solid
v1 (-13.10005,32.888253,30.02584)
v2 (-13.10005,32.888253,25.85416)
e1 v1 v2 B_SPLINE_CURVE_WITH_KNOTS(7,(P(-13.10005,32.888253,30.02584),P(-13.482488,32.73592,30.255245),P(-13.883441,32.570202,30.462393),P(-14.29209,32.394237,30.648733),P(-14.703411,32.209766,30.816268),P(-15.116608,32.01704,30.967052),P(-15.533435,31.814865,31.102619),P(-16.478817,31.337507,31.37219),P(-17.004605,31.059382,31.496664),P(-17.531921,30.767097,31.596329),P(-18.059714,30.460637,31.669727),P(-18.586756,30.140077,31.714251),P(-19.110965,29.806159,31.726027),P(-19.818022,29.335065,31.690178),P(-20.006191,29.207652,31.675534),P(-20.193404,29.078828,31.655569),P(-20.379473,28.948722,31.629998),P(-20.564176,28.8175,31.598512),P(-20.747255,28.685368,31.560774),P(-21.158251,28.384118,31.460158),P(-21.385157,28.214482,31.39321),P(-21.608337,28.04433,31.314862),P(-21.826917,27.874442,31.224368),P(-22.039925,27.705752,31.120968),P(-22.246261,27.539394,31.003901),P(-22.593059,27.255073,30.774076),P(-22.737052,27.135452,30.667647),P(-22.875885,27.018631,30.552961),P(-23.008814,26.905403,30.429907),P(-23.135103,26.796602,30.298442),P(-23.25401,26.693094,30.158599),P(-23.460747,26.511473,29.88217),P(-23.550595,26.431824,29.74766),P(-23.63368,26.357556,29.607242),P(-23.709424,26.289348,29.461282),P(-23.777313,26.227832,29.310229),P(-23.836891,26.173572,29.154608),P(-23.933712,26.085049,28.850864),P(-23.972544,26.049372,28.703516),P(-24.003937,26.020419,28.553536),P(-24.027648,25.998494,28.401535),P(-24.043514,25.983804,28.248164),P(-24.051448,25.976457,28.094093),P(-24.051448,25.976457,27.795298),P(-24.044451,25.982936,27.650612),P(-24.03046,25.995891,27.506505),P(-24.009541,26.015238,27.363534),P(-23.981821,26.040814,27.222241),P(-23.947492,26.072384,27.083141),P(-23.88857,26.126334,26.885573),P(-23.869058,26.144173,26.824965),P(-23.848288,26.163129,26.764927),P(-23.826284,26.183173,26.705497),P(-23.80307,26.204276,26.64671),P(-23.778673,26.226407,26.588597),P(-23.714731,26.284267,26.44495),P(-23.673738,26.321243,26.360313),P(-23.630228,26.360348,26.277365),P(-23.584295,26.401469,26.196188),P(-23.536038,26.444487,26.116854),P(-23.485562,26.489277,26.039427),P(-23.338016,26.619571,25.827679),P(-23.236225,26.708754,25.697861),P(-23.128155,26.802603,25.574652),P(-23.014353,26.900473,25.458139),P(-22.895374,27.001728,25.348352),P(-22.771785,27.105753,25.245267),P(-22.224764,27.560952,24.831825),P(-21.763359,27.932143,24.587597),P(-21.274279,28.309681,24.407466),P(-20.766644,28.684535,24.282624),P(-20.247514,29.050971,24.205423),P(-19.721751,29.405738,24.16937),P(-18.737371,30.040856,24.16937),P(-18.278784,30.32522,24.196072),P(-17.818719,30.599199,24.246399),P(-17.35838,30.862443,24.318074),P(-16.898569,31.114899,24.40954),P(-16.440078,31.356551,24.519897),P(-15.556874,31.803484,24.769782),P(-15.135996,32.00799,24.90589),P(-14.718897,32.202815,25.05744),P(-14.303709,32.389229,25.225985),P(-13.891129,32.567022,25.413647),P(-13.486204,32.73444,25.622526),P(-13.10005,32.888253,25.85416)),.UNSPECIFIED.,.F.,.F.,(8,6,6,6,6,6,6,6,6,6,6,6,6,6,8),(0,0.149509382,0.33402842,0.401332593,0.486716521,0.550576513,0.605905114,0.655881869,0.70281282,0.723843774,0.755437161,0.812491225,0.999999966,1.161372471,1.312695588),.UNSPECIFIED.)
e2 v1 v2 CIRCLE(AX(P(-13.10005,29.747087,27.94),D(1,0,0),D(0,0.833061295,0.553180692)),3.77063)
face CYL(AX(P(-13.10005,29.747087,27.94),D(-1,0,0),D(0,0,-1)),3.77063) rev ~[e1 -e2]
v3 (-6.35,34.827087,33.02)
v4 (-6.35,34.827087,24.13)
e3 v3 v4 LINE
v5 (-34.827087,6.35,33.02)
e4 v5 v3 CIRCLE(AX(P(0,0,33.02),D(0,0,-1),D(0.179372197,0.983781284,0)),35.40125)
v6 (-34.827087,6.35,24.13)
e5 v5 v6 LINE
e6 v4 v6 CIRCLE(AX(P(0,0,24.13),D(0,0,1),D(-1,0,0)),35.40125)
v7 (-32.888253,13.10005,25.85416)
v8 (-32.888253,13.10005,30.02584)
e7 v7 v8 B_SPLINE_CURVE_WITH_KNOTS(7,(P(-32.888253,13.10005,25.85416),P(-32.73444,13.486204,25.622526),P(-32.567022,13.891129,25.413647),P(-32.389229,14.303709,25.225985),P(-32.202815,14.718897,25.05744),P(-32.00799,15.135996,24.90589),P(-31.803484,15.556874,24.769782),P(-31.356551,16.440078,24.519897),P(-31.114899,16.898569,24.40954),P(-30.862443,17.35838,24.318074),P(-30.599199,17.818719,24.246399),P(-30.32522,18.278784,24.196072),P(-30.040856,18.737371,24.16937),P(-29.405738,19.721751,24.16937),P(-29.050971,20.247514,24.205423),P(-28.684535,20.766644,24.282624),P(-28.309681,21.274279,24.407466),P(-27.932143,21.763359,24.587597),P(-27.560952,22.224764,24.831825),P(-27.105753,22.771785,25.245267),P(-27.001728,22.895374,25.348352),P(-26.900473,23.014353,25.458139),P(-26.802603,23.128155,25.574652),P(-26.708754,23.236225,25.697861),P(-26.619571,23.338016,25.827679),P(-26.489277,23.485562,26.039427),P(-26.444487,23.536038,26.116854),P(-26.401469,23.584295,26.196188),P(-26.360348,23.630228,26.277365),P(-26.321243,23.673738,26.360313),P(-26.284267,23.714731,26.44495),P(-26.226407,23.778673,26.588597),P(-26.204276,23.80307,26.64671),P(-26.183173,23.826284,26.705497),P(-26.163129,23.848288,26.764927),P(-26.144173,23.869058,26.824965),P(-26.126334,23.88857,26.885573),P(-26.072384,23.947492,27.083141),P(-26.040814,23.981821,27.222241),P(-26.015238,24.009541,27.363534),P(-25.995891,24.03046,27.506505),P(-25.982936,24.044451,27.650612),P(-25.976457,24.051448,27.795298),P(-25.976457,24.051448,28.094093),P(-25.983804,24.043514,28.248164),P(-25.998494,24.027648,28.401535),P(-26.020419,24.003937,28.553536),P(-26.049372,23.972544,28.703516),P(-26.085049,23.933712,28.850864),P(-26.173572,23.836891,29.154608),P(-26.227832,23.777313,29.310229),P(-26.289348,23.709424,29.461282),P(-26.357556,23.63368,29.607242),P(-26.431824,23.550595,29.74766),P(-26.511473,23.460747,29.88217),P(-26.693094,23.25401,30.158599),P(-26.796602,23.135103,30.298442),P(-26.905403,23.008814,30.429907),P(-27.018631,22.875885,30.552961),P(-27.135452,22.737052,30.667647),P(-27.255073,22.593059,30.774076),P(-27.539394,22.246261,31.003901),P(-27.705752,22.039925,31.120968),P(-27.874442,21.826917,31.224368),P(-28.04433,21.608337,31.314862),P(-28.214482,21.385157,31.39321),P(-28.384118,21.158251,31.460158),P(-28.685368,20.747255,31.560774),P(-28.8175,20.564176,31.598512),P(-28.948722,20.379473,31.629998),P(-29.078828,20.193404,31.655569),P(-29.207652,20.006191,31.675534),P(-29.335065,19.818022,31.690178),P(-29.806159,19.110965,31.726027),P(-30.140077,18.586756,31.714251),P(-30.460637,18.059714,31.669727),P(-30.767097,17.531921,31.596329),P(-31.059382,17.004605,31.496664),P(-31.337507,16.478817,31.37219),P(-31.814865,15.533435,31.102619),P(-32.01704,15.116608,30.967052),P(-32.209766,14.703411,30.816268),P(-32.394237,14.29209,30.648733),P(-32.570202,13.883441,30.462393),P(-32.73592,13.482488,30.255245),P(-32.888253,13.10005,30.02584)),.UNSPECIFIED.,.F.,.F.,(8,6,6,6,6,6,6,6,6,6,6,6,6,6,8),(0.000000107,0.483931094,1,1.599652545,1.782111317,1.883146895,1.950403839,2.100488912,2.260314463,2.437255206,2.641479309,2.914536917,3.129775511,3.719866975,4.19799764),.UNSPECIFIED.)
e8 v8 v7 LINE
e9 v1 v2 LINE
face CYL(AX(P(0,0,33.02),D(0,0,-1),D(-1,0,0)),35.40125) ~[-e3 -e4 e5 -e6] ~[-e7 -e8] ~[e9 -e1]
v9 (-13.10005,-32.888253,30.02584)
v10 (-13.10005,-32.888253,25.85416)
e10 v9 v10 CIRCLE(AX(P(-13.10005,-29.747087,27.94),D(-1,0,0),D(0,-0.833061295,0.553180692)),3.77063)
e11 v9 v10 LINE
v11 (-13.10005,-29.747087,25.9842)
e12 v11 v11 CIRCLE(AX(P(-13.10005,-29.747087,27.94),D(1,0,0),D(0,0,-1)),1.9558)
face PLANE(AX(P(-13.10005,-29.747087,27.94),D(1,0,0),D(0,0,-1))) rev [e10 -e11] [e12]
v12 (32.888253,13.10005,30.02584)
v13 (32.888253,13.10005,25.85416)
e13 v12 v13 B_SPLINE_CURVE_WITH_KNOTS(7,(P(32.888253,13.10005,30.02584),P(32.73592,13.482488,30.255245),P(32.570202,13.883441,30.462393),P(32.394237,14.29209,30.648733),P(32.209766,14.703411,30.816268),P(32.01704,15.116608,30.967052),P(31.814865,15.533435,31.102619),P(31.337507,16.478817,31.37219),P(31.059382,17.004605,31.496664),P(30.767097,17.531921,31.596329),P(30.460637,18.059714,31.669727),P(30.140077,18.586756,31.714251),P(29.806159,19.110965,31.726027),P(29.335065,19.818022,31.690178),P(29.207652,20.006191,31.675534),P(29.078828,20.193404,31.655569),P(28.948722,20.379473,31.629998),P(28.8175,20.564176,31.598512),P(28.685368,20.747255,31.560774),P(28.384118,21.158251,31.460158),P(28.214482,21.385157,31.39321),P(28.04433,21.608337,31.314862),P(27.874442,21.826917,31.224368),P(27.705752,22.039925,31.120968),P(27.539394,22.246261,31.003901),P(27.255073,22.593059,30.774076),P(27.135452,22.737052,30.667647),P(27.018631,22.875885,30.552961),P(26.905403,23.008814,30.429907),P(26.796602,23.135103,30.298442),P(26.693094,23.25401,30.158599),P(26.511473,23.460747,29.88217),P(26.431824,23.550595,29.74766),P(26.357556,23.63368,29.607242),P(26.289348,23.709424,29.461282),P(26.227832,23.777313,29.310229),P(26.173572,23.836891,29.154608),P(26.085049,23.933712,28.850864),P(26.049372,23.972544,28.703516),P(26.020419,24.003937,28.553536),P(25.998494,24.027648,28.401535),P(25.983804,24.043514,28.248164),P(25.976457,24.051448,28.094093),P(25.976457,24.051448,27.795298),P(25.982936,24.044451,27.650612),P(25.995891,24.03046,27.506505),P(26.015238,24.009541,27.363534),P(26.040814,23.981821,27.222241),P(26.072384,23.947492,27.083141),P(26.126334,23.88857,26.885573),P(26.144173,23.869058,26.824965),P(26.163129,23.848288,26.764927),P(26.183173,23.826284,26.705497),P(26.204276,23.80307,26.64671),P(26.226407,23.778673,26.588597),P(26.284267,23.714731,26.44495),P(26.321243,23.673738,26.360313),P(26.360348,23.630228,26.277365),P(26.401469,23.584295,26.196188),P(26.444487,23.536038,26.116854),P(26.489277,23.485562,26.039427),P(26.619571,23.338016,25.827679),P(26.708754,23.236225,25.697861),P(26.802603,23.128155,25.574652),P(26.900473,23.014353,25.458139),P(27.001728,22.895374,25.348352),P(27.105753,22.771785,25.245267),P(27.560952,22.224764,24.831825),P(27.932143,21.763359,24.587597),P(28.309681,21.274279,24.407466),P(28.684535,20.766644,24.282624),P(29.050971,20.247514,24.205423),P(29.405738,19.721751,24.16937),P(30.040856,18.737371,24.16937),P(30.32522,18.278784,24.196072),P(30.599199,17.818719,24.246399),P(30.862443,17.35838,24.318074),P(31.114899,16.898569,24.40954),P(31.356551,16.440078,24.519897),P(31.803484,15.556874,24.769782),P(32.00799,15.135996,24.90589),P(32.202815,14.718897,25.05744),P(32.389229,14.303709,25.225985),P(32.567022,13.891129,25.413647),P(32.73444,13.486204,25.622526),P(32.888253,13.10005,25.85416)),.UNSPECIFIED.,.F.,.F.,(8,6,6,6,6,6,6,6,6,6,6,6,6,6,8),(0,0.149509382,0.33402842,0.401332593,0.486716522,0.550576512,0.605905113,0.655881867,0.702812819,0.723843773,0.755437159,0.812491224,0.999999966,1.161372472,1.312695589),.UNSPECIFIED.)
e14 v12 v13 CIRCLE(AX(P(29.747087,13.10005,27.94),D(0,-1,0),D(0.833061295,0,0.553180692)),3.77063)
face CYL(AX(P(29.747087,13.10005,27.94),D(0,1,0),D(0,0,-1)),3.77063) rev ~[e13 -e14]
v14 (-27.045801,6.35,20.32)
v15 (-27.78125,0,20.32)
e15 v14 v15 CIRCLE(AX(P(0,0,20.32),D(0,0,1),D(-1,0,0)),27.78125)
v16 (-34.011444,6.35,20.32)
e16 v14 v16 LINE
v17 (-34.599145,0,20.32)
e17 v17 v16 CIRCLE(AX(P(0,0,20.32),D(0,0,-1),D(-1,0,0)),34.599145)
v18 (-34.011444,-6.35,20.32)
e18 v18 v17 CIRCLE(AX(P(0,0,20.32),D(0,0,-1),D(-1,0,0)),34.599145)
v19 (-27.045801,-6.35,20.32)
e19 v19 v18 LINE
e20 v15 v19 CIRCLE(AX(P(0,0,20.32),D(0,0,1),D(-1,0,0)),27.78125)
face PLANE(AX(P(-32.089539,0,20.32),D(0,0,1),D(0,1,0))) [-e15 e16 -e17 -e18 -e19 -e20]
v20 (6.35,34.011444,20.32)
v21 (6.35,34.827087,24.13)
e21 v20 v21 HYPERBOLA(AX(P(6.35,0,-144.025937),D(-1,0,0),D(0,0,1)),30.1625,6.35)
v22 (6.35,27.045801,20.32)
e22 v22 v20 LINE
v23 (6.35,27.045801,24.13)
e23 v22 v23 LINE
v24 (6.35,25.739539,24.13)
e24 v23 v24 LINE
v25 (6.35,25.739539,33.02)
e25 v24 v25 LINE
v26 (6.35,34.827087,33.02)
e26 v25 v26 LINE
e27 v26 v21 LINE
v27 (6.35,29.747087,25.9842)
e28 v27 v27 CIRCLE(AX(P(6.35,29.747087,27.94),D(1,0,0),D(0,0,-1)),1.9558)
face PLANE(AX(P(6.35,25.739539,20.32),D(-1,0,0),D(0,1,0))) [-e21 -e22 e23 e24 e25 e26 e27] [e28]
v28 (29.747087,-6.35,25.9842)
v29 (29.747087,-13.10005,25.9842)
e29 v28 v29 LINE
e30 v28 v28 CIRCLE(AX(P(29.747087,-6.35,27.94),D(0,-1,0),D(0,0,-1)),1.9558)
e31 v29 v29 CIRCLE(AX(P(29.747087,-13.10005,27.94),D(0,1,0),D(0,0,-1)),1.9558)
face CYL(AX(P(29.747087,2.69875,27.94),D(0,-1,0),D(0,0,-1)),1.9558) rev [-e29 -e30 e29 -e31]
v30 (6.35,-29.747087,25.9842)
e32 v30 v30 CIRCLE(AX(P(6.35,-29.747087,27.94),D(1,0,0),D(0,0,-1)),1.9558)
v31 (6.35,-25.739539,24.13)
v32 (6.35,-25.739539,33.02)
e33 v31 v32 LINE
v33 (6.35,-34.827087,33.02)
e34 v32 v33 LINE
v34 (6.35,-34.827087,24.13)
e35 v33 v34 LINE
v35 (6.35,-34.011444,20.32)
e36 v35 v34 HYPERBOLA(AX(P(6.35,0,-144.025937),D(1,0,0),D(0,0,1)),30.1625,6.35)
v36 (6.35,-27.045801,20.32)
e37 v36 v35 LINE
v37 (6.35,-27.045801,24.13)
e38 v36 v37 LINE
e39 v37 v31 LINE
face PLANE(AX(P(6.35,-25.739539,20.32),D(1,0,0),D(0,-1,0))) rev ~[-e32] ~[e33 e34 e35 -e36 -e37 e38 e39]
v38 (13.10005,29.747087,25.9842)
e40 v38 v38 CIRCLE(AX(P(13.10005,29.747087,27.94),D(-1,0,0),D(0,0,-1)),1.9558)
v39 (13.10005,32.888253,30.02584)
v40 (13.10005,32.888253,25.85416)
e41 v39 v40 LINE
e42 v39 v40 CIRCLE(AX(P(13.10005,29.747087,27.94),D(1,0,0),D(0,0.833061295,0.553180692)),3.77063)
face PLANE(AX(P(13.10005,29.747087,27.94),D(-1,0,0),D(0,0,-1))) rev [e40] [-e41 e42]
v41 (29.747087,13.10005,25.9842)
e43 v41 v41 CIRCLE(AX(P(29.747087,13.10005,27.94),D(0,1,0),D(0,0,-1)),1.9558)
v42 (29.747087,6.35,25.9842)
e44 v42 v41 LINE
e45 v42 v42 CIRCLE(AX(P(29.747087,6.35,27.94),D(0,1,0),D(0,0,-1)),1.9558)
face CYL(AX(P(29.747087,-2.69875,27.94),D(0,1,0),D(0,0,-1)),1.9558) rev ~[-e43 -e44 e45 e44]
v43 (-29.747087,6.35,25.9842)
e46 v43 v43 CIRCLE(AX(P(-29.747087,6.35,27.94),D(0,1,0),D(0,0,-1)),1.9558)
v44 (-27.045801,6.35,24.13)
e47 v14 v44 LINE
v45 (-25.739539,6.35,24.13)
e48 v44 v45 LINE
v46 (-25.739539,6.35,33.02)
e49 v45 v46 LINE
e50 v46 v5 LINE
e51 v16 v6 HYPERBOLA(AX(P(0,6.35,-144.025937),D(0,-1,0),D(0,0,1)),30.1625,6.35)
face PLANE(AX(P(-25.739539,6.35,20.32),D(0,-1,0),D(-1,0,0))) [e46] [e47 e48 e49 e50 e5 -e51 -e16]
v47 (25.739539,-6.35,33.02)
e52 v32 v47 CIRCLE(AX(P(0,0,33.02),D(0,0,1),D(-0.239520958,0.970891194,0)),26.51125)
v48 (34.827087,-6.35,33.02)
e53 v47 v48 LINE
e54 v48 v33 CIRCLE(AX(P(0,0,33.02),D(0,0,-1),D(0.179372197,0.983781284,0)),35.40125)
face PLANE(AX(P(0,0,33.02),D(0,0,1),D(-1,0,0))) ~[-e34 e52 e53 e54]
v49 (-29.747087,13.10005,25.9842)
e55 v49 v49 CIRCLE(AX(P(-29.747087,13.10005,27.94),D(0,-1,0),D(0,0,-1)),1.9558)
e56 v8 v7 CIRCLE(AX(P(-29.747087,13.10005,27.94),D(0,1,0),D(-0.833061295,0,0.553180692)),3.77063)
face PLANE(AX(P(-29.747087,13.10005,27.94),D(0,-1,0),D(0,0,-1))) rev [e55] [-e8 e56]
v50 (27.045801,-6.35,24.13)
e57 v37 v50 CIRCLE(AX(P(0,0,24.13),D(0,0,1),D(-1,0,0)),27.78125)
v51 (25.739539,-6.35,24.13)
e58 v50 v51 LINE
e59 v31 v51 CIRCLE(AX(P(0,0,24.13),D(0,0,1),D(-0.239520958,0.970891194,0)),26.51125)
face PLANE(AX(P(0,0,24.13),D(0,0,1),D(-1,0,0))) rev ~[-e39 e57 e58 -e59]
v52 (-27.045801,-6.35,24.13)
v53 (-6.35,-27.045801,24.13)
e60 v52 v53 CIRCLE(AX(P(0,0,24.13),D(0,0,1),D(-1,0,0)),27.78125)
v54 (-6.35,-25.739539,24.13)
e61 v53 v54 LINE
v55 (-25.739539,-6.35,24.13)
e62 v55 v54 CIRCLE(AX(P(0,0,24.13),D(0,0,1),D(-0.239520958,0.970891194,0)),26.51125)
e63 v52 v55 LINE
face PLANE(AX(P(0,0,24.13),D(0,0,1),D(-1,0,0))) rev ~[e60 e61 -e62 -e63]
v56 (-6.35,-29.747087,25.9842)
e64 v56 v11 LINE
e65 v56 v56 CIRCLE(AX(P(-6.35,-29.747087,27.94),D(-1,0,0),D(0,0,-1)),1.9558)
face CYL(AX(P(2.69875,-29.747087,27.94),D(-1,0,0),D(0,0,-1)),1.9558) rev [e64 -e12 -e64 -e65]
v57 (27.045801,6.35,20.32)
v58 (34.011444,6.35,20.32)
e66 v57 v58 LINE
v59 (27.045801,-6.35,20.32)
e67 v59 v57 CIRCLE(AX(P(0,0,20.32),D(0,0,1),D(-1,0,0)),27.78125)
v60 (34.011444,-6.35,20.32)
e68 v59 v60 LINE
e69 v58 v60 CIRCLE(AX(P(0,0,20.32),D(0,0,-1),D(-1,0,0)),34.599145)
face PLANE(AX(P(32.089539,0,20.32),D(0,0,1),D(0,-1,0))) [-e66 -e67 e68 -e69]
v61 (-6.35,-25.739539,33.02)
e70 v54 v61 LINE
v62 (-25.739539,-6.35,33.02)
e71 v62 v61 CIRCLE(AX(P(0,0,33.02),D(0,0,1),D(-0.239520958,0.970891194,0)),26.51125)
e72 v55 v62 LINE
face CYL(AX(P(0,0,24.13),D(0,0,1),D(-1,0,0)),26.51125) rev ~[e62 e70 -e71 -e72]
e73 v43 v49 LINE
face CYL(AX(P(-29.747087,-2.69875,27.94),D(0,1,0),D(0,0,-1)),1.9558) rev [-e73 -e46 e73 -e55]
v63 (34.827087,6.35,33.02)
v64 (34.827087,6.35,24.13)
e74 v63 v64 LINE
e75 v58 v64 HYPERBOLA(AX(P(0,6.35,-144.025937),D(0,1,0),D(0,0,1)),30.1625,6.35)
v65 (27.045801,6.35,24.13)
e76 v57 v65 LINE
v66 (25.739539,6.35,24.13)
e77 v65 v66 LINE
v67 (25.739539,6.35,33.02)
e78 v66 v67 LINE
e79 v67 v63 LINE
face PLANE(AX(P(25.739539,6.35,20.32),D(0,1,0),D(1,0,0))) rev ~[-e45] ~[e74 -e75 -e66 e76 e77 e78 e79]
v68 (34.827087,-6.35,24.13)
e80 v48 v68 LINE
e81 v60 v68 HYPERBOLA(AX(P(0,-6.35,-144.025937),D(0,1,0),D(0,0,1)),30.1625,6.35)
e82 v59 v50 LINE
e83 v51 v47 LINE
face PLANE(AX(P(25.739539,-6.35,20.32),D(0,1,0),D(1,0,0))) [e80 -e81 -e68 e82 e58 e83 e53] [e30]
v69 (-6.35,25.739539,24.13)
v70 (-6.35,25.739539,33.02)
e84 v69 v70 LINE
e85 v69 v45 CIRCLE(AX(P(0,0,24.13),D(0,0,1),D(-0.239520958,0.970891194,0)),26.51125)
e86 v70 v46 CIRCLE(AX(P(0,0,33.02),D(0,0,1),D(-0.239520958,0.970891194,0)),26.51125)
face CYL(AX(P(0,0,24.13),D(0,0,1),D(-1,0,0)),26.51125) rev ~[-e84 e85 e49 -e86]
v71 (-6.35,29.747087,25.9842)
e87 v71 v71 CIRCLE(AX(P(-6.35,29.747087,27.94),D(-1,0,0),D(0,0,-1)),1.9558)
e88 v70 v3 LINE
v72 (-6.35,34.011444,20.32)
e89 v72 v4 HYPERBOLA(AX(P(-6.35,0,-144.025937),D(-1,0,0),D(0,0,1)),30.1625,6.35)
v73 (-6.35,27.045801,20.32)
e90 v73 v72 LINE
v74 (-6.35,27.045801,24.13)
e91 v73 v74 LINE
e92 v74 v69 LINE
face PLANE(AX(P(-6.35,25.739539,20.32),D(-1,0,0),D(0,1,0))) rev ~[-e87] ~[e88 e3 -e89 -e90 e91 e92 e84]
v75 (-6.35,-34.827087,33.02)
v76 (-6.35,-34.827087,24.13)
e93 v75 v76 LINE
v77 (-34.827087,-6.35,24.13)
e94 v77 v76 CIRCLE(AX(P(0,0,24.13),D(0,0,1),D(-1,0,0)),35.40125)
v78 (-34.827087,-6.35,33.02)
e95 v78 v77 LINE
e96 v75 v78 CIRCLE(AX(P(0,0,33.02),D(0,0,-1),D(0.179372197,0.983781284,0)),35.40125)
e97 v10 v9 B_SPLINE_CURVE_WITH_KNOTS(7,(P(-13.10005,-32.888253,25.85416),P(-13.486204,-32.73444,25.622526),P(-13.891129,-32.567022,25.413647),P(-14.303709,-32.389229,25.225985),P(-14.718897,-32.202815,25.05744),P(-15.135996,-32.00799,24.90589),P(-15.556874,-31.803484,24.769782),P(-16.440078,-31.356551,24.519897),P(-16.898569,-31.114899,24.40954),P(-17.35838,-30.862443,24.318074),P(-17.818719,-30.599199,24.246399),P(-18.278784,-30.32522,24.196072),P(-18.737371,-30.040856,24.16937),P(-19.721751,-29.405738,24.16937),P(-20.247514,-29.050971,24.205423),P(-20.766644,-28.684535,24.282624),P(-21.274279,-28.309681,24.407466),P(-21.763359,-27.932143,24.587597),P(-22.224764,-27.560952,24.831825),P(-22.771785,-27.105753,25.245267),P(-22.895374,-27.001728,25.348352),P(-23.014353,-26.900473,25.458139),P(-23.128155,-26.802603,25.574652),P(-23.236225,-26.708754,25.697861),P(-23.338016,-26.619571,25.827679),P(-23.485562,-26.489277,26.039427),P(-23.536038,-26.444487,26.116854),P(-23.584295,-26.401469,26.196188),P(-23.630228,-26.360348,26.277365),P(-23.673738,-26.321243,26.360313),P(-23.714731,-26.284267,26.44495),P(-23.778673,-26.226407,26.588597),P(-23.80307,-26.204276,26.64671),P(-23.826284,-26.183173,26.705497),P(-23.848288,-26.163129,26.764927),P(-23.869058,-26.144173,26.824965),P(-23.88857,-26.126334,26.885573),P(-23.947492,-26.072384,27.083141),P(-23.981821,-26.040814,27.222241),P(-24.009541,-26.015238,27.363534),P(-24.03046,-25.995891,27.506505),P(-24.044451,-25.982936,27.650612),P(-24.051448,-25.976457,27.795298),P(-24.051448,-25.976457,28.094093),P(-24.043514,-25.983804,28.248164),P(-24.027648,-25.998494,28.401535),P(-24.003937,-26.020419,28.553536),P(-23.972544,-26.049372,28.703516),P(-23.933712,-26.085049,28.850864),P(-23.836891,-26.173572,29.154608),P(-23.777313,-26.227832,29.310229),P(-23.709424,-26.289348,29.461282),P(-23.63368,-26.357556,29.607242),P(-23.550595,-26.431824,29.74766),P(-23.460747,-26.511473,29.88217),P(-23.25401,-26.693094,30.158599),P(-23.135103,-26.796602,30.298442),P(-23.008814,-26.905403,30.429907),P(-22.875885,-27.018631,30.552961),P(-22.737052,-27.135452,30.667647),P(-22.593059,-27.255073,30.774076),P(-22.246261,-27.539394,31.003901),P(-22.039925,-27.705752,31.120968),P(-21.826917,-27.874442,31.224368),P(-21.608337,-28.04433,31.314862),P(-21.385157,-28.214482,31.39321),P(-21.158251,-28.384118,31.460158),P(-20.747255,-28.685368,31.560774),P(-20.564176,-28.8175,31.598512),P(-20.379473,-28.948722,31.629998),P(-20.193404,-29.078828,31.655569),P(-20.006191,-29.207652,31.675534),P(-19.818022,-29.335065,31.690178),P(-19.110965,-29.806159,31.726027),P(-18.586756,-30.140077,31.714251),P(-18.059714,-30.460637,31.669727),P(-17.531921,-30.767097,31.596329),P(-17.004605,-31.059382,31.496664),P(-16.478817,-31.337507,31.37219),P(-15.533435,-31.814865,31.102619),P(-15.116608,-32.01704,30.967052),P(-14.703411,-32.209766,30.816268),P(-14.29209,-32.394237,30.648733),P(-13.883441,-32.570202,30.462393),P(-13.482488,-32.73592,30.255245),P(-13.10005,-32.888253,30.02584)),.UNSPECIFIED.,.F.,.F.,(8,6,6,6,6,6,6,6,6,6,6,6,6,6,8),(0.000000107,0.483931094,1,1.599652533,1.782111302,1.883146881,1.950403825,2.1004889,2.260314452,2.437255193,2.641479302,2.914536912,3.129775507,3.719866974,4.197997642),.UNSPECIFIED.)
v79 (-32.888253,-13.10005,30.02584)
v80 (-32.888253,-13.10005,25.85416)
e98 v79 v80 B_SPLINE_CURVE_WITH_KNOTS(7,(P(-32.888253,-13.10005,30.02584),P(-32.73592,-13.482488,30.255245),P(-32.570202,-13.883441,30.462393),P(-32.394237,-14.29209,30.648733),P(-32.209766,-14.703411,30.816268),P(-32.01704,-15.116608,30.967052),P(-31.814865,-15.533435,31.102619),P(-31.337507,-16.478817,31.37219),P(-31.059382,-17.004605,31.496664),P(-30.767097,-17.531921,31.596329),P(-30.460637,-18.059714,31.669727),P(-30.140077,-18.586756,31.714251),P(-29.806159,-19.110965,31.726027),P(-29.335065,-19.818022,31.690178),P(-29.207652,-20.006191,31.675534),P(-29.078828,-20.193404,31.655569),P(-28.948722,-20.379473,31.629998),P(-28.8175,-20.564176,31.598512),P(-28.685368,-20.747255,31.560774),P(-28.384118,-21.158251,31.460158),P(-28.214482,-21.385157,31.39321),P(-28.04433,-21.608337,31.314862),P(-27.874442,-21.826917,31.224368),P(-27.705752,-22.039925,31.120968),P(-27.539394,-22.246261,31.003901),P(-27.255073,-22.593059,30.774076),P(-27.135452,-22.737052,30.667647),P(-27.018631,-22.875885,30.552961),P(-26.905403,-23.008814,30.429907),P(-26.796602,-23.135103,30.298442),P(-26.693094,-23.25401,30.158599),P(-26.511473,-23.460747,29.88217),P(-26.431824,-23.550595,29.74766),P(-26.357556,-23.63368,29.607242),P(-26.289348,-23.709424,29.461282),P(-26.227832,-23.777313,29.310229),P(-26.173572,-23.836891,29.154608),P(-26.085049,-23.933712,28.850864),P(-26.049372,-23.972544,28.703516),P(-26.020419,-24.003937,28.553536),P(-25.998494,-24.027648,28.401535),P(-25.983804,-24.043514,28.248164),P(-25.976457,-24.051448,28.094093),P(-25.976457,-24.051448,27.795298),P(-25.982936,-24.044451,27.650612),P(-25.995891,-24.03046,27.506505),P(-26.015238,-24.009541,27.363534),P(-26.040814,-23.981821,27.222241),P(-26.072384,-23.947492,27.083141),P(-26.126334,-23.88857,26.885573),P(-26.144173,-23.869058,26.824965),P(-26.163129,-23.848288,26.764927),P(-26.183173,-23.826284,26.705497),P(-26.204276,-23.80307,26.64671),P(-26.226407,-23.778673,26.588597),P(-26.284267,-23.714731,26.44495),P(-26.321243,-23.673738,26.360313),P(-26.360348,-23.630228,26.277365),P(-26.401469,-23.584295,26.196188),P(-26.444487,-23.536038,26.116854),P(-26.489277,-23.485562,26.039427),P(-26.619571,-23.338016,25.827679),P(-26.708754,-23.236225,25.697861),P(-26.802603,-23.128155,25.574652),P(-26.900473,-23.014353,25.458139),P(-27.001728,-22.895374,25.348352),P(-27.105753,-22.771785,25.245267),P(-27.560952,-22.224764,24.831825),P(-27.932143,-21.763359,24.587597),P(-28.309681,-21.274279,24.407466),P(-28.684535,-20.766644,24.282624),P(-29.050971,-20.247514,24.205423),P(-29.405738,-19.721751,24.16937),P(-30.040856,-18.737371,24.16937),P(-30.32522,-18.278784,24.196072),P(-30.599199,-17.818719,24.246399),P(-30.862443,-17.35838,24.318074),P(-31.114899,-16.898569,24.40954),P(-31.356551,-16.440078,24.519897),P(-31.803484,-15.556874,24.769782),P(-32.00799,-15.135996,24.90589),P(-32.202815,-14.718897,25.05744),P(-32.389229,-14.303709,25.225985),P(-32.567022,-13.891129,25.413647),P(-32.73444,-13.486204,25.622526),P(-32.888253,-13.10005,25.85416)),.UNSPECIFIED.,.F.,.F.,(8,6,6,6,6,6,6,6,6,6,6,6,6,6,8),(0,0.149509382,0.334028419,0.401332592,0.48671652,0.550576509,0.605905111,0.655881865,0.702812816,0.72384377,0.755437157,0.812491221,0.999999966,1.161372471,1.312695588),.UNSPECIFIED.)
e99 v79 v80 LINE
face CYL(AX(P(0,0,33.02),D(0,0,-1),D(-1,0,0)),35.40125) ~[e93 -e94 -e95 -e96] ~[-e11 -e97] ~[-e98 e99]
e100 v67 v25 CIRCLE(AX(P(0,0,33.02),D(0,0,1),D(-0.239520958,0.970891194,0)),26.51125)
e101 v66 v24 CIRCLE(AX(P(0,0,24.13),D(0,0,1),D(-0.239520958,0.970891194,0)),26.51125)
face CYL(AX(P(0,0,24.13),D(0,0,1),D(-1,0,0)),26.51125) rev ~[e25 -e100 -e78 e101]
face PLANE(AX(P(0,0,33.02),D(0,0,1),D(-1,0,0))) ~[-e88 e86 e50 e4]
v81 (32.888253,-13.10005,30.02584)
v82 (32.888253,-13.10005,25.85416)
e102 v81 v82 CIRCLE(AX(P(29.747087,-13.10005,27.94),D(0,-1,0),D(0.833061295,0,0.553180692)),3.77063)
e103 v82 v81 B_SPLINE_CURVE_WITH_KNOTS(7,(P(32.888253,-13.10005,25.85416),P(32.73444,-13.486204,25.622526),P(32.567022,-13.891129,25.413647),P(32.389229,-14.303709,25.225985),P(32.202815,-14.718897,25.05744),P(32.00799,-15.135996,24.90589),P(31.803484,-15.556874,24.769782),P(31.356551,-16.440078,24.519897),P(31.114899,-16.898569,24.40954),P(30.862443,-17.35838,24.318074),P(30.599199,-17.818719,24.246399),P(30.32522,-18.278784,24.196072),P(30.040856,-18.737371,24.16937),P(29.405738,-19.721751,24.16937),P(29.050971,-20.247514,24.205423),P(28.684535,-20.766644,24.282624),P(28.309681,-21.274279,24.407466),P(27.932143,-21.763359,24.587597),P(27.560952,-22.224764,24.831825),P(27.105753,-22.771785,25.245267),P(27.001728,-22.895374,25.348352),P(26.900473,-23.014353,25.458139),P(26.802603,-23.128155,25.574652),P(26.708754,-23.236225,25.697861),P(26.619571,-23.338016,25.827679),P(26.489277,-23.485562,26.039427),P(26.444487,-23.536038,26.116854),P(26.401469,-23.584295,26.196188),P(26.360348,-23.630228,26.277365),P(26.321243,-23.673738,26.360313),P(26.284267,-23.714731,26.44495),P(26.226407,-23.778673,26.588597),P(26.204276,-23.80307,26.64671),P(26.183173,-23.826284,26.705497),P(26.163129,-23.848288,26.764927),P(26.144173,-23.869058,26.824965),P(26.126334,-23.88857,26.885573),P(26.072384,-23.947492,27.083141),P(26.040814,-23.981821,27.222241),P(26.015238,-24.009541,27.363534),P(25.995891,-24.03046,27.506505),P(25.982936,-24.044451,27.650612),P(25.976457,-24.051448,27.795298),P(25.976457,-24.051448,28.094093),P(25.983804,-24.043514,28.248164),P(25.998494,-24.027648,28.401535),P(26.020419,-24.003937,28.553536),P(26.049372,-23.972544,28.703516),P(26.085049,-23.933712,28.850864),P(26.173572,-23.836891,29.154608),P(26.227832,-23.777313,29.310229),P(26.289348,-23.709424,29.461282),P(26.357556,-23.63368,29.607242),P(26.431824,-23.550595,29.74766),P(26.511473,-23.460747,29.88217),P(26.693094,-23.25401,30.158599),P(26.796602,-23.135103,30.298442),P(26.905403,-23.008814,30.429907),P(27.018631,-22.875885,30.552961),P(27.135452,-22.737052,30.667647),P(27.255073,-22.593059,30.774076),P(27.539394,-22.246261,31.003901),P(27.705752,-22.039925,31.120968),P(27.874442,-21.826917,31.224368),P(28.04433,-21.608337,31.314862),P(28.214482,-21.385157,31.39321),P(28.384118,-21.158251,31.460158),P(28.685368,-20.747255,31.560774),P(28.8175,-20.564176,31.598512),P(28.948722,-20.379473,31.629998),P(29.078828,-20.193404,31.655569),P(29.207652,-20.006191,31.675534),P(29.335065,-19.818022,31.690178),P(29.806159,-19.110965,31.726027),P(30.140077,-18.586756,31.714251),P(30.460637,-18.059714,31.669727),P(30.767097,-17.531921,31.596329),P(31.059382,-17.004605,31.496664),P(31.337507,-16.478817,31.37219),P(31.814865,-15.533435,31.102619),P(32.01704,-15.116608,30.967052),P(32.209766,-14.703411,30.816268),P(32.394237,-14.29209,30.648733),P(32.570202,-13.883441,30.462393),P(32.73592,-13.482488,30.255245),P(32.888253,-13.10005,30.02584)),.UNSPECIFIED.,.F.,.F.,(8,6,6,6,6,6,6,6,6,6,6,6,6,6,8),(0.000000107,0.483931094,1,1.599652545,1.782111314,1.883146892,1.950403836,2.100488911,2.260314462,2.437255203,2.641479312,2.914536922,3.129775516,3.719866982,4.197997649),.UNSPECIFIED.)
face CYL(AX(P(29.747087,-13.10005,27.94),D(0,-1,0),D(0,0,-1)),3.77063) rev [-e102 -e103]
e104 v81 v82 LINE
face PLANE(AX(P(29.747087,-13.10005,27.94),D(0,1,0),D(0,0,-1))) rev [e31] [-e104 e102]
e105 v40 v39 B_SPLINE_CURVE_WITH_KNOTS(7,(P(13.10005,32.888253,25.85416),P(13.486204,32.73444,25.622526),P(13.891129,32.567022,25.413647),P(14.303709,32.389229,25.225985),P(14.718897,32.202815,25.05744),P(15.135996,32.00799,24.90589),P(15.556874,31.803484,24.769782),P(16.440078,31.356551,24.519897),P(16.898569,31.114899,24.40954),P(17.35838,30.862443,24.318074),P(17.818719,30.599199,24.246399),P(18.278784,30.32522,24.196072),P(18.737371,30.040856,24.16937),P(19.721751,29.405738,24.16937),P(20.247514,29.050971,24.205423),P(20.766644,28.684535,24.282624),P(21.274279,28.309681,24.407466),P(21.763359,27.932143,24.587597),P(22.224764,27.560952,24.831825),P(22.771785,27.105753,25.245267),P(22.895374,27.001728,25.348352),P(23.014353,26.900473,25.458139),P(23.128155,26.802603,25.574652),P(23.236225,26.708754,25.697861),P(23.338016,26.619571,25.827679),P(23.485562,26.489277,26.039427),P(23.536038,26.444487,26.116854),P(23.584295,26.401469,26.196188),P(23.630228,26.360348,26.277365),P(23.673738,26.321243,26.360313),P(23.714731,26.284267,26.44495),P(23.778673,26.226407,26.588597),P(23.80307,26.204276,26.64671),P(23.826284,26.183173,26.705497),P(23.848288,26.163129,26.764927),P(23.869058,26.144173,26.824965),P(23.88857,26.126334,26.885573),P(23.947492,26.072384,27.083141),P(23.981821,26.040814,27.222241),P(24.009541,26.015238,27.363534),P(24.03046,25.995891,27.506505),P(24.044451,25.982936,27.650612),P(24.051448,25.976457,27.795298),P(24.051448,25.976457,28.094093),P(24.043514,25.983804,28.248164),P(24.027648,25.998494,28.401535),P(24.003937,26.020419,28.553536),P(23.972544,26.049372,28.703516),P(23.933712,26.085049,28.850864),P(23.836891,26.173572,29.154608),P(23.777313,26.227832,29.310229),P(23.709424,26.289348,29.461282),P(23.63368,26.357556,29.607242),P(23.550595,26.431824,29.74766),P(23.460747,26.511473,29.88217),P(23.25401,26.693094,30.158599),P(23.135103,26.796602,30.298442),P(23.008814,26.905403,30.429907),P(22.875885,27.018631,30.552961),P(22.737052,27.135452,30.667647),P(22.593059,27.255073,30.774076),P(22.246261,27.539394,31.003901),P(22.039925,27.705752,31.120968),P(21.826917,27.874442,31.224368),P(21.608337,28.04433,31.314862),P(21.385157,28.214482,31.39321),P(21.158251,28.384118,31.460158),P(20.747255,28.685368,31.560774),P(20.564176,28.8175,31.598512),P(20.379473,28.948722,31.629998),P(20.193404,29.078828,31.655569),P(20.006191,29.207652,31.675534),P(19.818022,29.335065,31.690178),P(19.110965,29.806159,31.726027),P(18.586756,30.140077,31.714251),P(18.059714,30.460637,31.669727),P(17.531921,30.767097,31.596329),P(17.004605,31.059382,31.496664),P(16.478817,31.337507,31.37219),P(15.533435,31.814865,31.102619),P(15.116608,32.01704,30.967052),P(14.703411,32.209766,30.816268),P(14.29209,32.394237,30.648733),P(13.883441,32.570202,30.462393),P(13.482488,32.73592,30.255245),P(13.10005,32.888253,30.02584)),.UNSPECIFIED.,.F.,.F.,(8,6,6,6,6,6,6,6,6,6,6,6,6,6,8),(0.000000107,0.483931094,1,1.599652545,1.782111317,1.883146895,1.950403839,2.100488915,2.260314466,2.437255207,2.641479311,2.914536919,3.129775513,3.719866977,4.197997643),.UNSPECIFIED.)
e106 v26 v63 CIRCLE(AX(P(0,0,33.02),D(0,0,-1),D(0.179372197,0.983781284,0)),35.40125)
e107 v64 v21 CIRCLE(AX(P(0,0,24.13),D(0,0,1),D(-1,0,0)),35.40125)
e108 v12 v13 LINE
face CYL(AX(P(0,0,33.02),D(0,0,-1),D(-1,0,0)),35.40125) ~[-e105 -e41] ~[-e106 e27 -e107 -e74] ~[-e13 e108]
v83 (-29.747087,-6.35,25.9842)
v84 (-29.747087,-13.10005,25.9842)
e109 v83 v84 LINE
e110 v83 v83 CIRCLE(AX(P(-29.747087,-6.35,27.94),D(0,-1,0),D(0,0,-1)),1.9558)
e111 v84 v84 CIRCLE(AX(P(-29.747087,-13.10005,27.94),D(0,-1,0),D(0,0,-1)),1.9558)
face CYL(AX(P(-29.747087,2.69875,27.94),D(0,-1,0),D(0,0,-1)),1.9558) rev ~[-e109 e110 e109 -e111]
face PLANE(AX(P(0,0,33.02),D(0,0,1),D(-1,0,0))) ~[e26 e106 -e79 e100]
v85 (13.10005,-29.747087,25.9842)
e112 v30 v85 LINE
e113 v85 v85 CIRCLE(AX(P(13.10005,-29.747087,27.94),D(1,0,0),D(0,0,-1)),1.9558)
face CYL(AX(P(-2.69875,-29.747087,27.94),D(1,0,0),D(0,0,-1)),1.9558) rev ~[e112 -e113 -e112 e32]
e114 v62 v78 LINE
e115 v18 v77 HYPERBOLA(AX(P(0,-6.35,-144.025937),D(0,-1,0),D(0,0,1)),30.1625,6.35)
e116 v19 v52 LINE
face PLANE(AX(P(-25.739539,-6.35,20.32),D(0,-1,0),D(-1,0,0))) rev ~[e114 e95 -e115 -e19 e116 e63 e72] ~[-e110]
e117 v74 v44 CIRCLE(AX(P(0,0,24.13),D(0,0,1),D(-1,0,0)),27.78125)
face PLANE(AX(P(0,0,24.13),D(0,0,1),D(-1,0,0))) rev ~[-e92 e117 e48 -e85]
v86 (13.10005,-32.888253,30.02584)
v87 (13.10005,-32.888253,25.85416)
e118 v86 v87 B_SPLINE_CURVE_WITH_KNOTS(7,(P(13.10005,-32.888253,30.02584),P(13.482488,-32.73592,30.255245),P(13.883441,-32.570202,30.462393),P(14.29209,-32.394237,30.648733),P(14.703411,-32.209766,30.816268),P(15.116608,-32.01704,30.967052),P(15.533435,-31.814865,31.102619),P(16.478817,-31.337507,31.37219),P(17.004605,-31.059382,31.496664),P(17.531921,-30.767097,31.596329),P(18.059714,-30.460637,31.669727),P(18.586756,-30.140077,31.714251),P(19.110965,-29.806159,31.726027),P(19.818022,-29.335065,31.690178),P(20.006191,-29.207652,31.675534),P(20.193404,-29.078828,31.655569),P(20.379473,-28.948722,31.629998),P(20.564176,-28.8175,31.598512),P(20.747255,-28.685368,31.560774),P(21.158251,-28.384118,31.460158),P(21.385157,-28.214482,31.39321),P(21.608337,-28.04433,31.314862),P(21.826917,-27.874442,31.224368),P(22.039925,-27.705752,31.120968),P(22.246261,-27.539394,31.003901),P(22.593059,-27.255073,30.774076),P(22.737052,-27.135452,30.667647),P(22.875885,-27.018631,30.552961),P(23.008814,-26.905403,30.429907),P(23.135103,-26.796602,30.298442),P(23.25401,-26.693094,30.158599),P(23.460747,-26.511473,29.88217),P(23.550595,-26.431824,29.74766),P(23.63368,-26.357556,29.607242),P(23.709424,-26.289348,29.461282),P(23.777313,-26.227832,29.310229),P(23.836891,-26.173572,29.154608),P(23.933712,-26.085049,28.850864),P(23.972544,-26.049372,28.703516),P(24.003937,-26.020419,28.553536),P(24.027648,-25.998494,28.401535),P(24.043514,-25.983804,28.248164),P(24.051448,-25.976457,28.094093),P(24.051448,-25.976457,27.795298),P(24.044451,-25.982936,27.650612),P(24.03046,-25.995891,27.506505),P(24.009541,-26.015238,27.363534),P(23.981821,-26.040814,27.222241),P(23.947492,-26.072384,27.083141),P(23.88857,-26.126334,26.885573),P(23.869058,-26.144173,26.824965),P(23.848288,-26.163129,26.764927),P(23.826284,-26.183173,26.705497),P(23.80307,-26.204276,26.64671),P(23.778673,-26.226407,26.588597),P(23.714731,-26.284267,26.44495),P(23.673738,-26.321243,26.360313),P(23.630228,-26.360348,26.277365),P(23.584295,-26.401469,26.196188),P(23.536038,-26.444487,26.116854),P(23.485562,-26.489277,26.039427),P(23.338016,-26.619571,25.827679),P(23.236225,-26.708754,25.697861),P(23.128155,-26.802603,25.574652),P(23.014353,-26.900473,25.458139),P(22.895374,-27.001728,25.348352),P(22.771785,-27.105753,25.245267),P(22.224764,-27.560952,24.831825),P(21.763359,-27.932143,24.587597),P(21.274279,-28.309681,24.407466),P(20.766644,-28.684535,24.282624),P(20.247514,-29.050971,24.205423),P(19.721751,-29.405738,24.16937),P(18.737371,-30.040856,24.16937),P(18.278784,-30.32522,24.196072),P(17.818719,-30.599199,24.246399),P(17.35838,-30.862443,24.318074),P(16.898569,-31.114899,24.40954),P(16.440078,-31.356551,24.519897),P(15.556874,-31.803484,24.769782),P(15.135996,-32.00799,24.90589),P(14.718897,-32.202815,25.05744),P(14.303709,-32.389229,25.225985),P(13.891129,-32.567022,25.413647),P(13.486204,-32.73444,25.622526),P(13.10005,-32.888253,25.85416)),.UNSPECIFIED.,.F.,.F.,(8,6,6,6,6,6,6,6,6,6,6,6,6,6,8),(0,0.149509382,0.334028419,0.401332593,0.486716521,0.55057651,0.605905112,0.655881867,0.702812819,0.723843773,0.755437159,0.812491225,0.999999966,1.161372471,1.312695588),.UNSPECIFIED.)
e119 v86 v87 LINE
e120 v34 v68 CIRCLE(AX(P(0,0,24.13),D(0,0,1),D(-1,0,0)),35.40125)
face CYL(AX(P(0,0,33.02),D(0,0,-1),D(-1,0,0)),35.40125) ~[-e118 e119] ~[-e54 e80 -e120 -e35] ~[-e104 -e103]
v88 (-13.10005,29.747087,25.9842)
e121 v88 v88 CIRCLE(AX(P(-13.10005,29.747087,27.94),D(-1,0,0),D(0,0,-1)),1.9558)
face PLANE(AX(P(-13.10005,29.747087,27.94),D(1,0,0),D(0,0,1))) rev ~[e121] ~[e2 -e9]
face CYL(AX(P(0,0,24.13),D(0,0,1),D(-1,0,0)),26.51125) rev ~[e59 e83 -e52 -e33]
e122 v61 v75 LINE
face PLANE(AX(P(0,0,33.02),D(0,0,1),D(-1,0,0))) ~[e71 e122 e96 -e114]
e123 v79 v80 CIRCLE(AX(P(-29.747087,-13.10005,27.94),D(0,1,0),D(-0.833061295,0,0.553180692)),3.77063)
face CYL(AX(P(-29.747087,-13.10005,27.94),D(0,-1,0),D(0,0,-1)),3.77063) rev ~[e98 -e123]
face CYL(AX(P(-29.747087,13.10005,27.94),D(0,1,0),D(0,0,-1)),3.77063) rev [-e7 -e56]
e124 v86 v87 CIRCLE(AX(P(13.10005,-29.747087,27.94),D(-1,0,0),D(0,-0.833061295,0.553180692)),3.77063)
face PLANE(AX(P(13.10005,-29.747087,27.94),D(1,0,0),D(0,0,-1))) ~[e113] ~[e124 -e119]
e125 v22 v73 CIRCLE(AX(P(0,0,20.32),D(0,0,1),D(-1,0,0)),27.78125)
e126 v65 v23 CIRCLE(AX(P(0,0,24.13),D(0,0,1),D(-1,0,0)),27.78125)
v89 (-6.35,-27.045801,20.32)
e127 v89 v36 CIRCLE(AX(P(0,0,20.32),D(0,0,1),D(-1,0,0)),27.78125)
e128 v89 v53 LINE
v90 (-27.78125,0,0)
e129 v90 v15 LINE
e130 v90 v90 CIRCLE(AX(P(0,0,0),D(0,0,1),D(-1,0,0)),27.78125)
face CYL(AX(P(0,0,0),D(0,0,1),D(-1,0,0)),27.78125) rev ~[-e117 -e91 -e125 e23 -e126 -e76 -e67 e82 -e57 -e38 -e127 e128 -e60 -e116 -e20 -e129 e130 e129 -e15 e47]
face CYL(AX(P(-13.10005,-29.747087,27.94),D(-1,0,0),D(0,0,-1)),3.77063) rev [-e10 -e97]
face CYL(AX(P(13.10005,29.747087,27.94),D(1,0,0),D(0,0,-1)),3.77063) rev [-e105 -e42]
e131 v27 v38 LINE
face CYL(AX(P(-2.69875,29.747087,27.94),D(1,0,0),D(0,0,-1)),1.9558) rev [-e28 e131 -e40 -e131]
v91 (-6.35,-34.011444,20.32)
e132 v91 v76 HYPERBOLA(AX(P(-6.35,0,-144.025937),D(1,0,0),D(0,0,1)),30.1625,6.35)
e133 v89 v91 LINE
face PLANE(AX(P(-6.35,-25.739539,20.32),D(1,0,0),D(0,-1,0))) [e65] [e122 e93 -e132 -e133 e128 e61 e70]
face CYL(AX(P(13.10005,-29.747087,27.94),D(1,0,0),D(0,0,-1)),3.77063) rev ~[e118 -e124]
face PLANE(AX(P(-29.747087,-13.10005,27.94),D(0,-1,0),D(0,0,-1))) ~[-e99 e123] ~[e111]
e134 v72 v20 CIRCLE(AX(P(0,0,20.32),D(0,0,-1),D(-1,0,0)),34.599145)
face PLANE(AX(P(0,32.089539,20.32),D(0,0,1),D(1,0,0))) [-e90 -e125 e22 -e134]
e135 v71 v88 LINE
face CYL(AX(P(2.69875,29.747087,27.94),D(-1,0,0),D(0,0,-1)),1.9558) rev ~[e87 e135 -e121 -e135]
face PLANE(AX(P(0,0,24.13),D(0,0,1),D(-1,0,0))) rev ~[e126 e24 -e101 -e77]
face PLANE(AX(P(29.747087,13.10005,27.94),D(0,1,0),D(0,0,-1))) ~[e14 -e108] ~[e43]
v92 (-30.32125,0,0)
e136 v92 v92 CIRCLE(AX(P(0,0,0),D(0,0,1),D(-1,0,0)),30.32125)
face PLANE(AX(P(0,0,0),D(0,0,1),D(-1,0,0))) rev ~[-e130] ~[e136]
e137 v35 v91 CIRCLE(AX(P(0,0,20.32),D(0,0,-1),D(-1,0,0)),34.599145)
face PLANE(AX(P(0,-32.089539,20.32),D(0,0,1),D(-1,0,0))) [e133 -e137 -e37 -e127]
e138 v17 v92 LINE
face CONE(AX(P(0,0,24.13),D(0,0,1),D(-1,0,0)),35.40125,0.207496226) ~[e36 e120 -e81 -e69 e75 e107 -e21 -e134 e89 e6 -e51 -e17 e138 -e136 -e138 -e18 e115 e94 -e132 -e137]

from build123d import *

# Parameters (mm, degrees)
CUT_EXTRUDE2_START = -12.7
SKETCH5_W          = 12.7
SKETCH5_H          = 12.7
CUT_EXTRUDE2_DEPTH = 73.673472495
CIRPATTERN1_COUNT  = 4


with BuildPart() as part:
    # Sketch1 → base_ring (revolve)
    with BuildSketch(Plane.YZ, mode=Mode.PRIVATE) as base_ring_sk:
        Polygon((27.78125, 0), (27.78125, 24.13), (26.51125, 24.13), (26.51125, 33.02), (35.40125, 33.02), (35.40125, 24.13), (30.32125, 0), align=None)
    revolve(base_ring_sk.sketch.rotate(Axis((0, 0, 0), (0, 0, 1)), 90), axis=Axis((0, 0, 0), (0, 0, 1)))

    # Sketch5 → Cut-Extrude2 (cut)
    with BuildSketch(Plane.XY.offset(33.02).offset(CUT_EXTRUDE2_START)):
        with Locations((0, 32.089539168)):
            Rectangle(SKETCH5_W, SKETCH5_H)
    cut_extrude2 = extrude(amount=CUT_EXTRUDE2_DEPTH, mode=Mode.SUBTRACT)

    # Sketch8 → pulley_bolt_hole (revolve, cut)
    with BuildSketch(Plane(origin=(35.40125, 29.747087182, 27.94), x_dir=(0, 0, -1), z_dir=(0, 1, 0))):
        Polygon((0, 0), (0, 39.275163199), (1.9558, 38.1), (1.9558, 22.3012), (3.77063, 22.3012), (3.77063, 0), align=None)
    pulley_bolt_hole = revolve(axis=Axis((41.75125, 29.747087182, 27.94), (-1, 0, 0)), mode=Mode.SUBTRACT)

    # bolthole_mirror: pulley_bolt_hole across plane
    add(pulley_bolt_hole.mirror(Plane(origin=(0, 0, 0), x_dir=(0, 0, 1), z_dir=(1, 0, 0))), mode=Mode.SUBTRACT)

    # CirPattern1: Cut-Extrude2, pulley_bolt_hole ×4 about axis
    cirpattern1_axis = Axis((0, 0, 0), (0, 0, 1))
    add([cut_extrude2.rotate(cirpattern1_axis, i * 360 / CIRPATTERN1_COUNT) for i in range(1, CIRPATTERN1_COUNT)], mode=Mode.SUBTRACT)
    add([pulley_bolt_hole.rotate(cirpattern1_axis, i * 360 / CIRPATTERN1_COUNT) for i in range(1, CIRPATTERN1_COUNT)], mode=Mode.SUBTRACT)

    # CirPattern1 copy 1 sketch → CirPattern1 copy 1 (revolve, cut)
    with BuildSketch(Plane(origin=(-29.747087182, -35.40125, 27.94), x_dir=(0, 0, -1), z_dir=(-1, 0, 0))):
        Polygon((0, 0), (0, -39.275163199), (1.9558, -38.1), (1.9558, -22.3012), (3.77063, -22.3012), (3.77063, 0), align=None)
    revolve(axis=Axis((-29.747087182, -41.75125, 27.94), (0, -1, 0)), mode=Mode.SUBTRACT)

    # CirPattern1 copy 2 sketch → CirPattern1 copy 2 (revolve, cut)
    with BuildSketch(Plane(origin=(35.40125, -29.747087182, 27.94), x_dir=(0, 0, -1), z_dir=(0, -1, 0))):
        Polygon((0, 0), (0, -39.275163199), (1.9558, -38.1), (1.9558, -22.3012), (3.77063, -22.3012), (3.77063, 0), align=None)
    revolve(axis=Axis((41.75125, -29.747087182, 27.94), (1, 0, 0)), mode=Mode.SUBTRACT)

    # CirPattern1 copy 3 sketch → CirPattern1 copy 3 (revolve, cut)
    with BuildSketch(Plane(origin=(29.747087182, 35.40125, 27.94), x_dir=(0, 0, -1), z_dir=(1, 0, 0))):
        Polygon((0, 0), (0, -39.275163199), (1.9558, -38.1), (1.9558, -22.3012), (3.77063, -22.3012), (3.77063, 0), align=None)
    revolve(axis=Axis((29.747087182, 41.75125, 27.94), (0, 1, 0)), mode=Mode.SUBTRACT)


solid = part.part
